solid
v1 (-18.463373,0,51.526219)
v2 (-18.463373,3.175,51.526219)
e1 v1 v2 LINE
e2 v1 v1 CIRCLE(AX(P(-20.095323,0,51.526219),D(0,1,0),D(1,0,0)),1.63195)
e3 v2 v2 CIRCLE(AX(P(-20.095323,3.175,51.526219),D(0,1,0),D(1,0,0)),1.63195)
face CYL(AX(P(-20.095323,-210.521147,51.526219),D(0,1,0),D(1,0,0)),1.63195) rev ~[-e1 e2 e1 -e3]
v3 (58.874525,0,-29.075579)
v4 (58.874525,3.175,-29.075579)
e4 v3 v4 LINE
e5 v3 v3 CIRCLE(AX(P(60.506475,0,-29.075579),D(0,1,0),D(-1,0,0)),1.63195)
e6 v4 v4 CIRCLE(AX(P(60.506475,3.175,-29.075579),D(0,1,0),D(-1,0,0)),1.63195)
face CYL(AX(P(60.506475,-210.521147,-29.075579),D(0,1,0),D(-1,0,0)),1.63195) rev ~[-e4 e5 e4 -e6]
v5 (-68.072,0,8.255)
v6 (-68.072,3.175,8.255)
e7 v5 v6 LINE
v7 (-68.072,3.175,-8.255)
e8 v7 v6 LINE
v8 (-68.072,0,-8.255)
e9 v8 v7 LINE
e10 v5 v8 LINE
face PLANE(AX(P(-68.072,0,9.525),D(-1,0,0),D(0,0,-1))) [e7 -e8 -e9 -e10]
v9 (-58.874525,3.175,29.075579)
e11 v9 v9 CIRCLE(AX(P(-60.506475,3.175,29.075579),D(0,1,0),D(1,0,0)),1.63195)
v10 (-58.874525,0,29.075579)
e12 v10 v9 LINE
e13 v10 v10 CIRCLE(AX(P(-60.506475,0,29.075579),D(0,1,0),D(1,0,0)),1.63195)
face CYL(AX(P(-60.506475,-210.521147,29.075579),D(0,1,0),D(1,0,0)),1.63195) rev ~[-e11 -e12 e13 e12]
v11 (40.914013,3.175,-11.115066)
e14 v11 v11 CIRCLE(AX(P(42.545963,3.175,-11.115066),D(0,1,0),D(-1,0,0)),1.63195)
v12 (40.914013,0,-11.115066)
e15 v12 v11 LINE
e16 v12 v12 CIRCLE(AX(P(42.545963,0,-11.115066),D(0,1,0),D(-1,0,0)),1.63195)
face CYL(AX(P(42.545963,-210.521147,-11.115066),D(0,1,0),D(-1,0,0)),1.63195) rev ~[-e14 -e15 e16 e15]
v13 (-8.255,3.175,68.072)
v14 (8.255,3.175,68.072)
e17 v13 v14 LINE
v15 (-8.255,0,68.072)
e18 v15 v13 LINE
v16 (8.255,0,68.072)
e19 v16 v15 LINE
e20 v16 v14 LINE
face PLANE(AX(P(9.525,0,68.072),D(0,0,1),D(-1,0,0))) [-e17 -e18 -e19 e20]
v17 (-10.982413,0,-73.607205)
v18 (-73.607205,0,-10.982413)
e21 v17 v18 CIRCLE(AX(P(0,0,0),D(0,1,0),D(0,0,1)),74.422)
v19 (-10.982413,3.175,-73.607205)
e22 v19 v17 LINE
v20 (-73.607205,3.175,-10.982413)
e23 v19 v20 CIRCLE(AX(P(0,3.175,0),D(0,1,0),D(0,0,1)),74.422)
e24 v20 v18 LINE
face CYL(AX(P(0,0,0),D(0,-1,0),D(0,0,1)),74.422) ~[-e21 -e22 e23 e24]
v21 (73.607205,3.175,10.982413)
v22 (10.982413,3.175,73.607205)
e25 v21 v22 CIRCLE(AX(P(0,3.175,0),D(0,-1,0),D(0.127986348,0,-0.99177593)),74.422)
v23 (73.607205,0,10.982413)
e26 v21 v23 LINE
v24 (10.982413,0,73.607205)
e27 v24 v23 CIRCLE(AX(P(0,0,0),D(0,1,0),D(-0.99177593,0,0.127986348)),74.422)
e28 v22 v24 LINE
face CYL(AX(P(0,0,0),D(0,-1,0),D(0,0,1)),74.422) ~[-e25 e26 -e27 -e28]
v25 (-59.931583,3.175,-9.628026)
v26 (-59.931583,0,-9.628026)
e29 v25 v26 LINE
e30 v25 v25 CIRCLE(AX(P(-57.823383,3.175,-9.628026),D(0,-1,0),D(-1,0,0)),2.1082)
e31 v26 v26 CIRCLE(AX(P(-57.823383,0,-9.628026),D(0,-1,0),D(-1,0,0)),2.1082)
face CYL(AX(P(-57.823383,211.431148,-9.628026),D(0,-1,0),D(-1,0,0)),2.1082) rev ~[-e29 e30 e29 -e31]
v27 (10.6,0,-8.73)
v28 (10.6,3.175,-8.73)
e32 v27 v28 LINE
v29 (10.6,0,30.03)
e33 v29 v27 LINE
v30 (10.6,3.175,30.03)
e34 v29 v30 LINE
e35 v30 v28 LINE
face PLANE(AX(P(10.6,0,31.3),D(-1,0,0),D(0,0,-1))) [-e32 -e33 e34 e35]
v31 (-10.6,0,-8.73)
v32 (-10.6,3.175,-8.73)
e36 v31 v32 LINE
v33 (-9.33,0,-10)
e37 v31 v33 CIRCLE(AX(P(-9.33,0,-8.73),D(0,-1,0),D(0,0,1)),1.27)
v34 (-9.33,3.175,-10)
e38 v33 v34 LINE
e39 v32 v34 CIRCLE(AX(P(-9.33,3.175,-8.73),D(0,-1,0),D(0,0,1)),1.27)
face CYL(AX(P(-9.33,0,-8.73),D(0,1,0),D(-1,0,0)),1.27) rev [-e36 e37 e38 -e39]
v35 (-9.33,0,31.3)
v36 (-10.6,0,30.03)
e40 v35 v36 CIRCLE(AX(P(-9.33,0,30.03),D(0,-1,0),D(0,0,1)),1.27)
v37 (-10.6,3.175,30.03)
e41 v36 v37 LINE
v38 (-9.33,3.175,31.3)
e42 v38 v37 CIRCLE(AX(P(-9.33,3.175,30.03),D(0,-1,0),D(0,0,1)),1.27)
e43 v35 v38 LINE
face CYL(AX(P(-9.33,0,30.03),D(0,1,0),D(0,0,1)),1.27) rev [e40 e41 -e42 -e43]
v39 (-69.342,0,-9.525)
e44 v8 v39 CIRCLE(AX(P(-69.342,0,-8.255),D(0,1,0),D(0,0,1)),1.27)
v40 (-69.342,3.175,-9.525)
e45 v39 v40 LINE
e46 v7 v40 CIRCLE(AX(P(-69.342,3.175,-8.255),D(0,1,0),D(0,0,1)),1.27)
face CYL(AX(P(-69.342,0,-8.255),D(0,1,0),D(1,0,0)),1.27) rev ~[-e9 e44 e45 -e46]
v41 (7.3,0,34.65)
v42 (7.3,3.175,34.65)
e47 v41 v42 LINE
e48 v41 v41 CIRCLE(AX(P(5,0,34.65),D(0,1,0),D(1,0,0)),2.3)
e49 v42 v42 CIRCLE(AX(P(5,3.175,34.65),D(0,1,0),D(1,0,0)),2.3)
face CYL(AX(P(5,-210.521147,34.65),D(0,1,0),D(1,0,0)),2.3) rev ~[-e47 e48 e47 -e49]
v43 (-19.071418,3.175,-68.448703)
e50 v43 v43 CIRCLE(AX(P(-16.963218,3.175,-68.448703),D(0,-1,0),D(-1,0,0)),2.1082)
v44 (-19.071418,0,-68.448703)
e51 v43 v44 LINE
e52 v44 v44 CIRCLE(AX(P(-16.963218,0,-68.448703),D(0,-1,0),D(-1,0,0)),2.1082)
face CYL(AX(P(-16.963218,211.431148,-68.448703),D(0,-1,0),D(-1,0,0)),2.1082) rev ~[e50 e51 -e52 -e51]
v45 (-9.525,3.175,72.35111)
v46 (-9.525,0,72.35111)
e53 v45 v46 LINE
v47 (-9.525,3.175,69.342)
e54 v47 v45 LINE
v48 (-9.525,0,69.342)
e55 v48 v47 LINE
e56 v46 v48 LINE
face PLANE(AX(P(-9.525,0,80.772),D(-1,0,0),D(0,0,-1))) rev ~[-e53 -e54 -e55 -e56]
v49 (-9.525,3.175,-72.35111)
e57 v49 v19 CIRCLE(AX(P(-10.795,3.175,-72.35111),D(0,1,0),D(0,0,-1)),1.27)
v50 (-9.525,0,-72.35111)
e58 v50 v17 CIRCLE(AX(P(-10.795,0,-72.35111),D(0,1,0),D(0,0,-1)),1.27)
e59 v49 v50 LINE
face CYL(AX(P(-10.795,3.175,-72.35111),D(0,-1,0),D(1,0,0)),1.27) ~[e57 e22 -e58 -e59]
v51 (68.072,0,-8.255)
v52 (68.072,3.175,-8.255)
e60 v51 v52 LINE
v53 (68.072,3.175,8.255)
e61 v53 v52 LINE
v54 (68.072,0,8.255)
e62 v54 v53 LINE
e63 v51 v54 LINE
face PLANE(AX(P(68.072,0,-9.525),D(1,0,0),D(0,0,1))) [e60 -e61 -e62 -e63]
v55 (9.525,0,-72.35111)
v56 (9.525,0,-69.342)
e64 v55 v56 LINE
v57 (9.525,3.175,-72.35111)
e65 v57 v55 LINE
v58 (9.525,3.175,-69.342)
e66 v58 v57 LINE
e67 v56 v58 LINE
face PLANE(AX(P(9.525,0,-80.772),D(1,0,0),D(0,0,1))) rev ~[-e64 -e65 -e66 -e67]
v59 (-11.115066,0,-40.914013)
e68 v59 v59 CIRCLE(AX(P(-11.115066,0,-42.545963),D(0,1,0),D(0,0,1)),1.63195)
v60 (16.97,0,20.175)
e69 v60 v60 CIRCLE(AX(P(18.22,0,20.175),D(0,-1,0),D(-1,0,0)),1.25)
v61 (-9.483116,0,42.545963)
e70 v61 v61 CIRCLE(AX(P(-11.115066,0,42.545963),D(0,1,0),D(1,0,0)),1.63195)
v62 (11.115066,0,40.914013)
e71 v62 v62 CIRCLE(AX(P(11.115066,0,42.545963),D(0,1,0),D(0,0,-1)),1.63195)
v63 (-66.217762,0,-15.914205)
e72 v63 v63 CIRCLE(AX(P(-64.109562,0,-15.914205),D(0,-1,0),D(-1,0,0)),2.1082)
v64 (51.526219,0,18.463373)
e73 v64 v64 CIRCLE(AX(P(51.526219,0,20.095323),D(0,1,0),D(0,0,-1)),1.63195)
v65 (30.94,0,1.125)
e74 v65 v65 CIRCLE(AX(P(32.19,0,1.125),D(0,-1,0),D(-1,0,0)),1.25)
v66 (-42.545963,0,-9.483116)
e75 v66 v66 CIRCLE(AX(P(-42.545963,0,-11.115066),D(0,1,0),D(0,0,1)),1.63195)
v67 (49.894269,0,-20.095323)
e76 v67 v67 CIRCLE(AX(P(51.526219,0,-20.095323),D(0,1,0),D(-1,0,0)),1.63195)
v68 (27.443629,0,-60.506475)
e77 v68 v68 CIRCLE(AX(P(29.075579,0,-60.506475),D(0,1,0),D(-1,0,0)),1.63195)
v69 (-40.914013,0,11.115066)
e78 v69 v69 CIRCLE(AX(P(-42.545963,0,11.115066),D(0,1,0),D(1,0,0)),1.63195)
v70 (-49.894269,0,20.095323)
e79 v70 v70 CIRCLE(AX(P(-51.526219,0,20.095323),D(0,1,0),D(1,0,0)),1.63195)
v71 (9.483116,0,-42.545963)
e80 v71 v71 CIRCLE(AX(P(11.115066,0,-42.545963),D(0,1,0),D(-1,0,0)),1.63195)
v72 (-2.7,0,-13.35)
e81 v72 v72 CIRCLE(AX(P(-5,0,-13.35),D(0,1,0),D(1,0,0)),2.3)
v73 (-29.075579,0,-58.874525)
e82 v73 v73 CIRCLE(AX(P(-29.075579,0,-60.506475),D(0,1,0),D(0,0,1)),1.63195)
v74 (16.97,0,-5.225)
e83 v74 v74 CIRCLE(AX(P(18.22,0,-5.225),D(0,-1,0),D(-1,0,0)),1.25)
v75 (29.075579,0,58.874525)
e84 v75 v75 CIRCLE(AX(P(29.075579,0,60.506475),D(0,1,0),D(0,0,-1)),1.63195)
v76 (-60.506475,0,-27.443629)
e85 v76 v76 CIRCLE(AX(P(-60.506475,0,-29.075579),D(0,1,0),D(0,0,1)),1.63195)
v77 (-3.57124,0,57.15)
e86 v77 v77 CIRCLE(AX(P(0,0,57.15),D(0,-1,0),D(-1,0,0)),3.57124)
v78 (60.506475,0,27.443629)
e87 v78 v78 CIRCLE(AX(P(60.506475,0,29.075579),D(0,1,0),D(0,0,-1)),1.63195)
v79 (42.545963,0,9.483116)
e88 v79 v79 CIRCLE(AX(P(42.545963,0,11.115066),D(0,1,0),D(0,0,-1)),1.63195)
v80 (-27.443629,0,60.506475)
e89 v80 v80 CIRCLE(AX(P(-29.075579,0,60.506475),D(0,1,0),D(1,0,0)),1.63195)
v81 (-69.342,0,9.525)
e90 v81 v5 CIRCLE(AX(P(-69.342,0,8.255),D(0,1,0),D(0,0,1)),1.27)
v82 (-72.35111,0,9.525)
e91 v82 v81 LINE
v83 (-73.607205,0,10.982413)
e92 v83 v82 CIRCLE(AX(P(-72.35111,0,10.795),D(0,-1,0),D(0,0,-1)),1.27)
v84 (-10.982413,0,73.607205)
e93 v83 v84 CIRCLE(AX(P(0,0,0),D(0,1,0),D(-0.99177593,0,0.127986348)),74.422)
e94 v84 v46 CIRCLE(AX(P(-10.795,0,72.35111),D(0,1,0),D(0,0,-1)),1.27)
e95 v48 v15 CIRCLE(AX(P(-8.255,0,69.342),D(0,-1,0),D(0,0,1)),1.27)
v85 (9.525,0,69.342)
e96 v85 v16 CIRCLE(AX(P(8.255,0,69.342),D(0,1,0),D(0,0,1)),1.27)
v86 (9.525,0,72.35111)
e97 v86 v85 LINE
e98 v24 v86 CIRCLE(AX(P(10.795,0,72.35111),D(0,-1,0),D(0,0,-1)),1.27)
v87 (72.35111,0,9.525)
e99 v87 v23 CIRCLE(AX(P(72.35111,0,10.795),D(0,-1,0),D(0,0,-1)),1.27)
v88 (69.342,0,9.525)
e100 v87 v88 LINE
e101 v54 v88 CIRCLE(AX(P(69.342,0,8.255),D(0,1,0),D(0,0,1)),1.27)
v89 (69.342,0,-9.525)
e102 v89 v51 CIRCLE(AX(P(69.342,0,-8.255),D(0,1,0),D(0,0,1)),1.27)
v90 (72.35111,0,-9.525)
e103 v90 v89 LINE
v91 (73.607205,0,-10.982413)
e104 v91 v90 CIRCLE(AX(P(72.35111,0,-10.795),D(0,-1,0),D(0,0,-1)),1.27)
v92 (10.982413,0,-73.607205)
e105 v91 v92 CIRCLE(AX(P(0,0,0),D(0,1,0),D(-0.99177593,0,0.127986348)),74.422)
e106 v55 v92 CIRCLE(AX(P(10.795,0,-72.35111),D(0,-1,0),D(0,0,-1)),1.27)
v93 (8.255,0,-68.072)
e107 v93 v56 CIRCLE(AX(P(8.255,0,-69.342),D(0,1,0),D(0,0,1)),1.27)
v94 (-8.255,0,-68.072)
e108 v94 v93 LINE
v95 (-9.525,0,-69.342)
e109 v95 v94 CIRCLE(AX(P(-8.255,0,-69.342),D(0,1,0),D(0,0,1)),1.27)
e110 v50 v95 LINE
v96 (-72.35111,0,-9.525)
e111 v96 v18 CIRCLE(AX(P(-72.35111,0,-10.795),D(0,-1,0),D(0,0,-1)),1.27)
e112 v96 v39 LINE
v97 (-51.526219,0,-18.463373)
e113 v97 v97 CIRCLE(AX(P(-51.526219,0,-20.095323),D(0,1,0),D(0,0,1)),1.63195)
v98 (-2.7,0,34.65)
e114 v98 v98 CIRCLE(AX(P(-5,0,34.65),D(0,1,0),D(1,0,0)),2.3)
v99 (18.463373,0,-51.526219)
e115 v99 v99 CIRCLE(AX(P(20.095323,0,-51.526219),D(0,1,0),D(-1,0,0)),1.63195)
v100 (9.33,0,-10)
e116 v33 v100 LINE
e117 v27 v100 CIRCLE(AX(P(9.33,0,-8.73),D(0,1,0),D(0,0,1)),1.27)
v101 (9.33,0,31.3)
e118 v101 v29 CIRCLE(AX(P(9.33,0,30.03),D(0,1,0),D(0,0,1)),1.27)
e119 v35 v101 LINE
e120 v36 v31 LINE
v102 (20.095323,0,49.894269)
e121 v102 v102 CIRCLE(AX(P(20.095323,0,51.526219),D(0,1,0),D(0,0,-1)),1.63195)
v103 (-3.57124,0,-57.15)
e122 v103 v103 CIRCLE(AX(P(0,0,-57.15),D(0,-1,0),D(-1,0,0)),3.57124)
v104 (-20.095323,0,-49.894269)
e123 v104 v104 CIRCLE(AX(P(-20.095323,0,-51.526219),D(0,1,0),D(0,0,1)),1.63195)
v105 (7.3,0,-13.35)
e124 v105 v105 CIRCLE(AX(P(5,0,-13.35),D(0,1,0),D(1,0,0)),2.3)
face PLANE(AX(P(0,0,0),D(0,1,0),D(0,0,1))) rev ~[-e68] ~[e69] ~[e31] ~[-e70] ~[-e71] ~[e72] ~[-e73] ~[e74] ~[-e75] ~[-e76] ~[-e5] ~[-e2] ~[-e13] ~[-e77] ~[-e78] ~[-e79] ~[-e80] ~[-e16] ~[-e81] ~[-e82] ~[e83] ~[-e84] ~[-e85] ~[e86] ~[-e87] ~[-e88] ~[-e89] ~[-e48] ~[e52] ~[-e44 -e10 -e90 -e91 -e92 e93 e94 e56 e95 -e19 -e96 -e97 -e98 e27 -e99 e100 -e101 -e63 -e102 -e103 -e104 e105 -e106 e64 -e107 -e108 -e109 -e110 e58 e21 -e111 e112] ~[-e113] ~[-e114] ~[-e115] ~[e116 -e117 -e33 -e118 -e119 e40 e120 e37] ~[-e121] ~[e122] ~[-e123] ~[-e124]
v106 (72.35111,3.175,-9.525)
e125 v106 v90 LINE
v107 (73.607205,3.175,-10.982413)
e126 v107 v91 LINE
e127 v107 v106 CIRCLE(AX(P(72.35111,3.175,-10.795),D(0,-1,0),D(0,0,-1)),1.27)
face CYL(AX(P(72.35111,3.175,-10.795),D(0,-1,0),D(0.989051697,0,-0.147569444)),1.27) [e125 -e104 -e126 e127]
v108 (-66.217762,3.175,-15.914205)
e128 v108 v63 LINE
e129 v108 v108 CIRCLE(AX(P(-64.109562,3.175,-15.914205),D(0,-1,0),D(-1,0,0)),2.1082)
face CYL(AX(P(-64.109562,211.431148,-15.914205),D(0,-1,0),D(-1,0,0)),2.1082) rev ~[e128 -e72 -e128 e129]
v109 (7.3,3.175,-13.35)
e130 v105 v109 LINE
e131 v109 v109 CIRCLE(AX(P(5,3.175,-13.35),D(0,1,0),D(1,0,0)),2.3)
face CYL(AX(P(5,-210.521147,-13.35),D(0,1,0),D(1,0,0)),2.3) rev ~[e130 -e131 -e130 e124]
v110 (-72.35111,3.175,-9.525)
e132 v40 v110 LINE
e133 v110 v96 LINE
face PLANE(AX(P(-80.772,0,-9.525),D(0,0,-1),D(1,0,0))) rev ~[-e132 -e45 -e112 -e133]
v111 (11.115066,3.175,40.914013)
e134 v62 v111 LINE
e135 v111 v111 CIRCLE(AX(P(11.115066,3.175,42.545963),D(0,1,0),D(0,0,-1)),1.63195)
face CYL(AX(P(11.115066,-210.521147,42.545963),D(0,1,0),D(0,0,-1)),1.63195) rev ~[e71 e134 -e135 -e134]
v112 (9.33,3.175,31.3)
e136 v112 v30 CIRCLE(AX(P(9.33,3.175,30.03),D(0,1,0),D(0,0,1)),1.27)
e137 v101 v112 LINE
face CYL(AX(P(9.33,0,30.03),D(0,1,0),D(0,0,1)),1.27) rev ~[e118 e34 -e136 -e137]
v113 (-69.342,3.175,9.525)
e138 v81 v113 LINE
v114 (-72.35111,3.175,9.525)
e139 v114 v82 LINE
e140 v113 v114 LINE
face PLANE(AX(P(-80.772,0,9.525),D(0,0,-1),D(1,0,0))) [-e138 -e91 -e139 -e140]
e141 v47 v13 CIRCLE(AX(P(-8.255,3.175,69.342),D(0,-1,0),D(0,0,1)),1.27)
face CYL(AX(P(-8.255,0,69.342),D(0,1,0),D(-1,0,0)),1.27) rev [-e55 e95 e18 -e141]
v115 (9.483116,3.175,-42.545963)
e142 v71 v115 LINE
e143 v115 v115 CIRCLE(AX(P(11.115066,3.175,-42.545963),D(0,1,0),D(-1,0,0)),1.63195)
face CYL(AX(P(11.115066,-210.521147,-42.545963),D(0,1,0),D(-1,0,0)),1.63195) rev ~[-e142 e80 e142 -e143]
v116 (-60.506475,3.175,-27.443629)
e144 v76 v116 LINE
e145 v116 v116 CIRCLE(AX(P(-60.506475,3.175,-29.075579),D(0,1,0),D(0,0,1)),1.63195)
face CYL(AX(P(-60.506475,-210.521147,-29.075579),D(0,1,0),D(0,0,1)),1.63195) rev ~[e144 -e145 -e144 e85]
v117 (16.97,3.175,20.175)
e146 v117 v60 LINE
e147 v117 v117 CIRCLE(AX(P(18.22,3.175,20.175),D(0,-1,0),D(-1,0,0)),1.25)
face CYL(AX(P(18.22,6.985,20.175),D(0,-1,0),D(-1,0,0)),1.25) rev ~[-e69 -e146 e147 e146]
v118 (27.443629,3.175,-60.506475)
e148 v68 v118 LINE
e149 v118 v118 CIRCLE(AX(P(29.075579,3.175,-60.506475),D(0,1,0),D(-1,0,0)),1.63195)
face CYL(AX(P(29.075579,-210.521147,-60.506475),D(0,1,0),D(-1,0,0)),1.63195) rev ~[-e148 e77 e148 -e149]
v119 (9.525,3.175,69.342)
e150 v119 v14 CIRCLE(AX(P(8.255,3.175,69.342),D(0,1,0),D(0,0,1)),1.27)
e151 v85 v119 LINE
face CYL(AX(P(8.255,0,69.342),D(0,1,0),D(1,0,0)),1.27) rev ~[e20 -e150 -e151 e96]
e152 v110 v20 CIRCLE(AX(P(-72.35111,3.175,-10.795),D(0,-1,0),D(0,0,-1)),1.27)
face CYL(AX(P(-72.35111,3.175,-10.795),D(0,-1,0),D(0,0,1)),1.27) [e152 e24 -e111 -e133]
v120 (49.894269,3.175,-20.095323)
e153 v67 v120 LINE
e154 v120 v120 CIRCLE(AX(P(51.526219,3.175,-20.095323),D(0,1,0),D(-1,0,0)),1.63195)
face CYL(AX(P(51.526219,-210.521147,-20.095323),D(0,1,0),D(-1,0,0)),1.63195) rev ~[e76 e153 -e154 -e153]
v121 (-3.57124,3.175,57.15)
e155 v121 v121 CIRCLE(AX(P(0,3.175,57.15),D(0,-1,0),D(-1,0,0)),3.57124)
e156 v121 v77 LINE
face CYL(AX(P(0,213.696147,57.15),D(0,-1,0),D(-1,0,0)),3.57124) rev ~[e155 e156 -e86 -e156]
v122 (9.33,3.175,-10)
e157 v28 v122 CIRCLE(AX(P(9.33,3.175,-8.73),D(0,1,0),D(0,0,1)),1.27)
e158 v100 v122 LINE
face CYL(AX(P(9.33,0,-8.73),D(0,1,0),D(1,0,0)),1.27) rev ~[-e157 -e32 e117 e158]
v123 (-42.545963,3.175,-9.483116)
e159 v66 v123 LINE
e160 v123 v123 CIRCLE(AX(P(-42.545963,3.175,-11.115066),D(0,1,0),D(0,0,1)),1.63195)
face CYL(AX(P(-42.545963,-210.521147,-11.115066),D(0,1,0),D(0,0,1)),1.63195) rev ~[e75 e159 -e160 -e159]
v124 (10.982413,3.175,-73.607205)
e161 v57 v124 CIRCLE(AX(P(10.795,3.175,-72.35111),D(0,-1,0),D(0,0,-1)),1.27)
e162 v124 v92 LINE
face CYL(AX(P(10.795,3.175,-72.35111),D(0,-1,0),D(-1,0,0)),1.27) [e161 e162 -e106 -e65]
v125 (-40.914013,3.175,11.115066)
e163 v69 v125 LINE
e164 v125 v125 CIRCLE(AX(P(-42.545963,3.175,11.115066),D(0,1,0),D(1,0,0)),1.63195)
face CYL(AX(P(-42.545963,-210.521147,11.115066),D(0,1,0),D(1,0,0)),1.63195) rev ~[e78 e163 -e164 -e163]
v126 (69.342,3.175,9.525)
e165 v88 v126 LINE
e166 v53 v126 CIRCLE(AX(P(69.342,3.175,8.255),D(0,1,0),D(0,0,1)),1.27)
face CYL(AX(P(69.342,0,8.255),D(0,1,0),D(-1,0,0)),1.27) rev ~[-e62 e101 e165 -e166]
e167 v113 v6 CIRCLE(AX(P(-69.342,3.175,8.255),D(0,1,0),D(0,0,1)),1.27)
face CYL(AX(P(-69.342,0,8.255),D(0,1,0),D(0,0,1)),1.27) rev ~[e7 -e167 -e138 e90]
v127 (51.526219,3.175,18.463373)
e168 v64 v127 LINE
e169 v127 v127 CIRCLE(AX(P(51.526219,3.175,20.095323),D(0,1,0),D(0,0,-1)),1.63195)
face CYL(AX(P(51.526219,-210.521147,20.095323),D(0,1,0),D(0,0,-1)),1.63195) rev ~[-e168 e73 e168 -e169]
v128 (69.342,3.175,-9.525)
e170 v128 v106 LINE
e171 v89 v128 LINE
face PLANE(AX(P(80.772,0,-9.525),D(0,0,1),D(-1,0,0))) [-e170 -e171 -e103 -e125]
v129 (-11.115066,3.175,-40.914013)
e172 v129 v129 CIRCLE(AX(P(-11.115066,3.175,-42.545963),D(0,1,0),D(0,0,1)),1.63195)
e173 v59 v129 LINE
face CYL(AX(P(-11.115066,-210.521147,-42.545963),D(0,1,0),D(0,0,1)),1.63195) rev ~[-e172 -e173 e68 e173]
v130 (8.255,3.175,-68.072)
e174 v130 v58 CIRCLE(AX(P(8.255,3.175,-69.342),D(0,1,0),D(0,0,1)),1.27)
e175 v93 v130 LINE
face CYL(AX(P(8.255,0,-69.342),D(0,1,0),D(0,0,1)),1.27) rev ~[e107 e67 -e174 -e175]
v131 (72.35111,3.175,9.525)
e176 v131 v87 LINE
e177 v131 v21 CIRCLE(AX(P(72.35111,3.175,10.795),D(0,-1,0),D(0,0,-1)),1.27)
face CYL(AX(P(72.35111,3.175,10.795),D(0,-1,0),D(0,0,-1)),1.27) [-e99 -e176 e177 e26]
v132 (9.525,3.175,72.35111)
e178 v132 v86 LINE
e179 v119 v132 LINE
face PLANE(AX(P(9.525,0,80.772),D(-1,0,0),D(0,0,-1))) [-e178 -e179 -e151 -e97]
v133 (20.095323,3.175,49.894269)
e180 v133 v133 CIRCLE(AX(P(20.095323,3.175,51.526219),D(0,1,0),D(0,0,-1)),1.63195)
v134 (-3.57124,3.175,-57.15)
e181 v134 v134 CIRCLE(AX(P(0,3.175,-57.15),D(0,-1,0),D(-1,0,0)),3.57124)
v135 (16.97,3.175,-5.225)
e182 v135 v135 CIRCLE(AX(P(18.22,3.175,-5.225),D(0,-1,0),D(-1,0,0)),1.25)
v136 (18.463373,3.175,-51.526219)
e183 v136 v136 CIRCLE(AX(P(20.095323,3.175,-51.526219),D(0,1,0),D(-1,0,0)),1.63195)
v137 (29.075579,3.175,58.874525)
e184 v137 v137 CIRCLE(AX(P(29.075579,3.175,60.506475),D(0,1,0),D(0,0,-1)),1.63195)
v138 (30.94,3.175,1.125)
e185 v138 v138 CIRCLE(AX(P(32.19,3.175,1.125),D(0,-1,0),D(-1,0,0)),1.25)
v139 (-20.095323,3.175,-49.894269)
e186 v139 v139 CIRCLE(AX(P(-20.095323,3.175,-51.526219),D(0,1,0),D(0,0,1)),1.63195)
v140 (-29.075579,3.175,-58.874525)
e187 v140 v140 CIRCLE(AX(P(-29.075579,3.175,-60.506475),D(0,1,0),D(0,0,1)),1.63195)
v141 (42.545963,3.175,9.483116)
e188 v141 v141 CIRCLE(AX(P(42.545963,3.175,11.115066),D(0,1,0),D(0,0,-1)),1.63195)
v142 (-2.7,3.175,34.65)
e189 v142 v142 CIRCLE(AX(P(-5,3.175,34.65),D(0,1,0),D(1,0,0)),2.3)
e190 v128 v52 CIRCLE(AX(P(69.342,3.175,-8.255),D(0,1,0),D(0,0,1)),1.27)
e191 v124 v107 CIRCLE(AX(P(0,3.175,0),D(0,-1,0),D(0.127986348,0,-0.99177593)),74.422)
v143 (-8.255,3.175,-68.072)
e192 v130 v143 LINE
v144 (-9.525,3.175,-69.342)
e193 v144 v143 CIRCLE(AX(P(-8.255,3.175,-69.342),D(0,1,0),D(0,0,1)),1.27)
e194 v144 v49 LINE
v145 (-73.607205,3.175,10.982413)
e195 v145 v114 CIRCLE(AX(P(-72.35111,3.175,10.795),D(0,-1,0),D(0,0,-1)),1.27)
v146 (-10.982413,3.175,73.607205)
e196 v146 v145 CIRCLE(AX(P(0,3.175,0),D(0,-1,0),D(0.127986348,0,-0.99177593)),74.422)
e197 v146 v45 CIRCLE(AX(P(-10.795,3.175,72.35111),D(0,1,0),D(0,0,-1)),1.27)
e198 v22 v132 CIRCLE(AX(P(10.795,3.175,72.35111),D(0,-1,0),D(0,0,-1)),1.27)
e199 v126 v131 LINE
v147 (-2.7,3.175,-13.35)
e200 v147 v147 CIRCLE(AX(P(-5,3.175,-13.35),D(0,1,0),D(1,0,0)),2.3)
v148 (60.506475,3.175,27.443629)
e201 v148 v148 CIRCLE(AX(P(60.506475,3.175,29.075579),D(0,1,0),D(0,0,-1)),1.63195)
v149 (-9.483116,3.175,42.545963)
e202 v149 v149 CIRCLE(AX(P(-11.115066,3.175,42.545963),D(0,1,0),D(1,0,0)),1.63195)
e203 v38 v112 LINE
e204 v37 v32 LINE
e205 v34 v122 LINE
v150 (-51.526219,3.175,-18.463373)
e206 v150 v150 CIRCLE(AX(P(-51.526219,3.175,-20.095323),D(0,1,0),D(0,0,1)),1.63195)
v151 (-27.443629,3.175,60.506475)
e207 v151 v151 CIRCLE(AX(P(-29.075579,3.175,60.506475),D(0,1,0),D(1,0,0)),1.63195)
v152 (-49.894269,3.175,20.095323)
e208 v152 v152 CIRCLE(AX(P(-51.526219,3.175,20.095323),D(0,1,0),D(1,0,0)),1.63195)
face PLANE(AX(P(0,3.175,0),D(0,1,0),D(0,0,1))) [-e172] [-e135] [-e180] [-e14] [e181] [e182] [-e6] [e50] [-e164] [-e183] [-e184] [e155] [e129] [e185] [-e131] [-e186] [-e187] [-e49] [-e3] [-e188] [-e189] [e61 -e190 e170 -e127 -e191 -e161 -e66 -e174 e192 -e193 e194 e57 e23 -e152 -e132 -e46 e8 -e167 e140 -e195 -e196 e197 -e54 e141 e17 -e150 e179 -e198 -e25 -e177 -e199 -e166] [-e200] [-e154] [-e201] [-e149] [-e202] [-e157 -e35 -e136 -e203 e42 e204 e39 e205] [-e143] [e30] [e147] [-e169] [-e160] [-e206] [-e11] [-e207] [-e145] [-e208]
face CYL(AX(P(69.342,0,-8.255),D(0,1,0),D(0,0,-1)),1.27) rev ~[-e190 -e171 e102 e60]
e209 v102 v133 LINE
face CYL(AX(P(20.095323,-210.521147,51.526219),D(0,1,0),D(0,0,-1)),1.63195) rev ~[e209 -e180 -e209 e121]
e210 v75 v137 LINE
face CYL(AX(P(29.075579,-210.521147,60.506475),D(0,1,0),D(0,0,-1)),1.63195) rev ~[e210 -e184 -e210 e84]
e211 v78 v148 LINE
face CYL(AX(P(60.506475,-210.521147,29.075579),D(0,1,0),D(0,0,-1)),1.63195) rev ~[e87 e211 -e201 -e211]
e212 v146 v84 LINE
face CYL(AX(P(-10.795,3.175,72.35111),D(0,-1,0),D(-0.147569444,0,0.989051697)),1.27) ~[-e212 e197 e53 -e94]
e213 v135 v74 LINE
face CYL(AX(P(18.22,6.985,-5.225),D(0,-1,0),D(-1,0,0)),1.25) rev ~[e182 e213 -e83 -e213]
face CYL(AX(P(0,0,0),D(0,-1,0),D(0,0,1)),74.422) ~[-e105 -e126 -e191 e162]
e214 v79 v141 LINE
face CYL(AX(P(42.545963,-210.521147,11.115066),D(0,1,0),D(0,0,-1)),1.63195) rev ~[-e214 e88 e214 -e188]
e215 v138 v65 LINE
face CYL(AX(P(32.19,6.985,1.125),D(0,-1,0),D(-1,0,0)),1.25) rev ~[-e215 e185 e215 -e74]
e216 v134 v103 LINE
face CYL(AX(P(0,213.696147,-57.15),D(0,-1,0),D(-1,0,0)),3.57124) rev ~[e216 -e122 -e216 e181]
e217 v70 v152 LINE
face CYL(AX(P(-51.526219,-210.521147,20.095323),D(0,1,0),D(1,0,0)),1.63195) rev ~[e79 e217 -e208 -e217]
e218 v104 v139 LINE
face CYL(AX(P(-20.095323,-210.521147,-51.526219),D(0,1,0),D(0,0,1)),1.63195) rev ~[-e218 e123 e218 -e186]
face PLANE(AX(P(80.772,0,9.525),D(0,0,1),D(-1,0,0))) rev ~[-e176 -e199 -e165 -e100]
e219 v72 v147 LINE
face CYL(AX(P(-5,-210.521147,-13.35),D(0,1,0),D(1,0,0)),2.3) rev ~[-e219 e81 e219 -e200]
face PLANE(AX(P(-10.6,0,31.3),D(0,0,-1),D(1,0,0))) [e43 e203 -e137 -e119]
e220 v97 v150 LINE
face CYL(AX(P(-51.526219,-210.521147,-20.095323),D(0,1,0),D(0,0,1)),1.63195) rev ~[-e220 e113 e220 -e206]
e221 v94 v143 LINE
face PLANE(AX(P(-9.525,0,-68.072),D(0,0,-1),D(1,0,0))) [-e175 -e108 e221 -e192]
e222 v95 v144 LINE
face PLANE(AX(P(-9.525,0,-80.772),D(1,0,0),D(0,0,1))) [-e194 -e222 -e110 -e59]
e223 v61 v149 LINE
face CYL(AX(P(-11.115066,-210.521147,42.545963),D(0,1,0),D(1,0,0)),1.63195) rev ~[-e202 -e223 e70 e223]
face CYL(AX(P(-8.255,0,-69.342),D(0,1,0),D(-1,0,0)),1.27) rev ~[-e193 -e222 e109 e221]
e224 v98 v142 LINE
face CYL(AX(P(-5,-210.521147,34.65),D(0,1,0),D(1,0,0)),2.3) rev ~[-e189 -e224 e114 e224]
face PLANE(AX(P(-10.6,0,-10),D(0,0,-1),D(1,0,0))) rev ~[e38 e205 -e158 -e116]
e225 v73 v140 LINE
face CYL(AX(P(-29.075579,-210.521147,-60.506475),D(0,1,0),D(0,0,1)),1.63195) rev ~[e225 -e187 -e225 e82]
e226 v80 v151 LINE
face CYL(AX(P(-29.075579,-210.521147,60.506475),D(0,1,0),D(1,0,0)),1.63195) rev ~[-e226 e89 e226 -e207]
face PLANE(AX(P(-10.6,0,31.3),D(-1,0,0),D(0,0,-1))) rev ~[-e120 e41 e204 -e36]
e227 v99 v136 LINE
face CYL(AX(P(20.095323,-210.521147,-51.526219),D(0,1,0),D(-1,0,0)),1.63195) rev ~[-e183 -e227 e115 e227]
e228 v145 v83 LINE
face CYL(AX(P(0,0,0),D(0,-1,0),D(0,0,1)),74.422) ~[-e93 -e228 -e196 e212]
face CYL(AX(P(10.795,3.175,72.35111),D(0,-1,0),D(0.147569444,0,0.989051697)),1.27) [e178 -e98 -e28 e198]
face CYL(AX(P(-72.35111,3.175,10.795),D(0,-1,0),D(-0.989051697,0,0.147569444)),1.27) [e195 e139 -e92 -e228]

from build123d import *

# Parameters (mm, degrees)
SKETCH1_R                       = 74.422
SKETCH1_W                       = 21.200000018
SKETCH1_H                       = 41.29999995
BOSS_EXTRUDE1_DEPTH             = 3.175
F_4_6_4_6_DIAMETER_HOLE1_D      = 4.6
F_4_CLEARANCE_HOLE1_D           = 3.2639
CIRPATTERN2_COUNT               = 4
F_1_4_CLEARANCE_HOLE1_D         = 7.14248
SKETCH19_W                      = 19.05
SKETCH19_H                      = 12.7
CUT_EXTRUDE1_DEPTH              = 106.29648044
CIRPATTERN3_COUNT               = 4
FILLET1_R                       = 1.27
F_19_0_166_DIAMETER_HOLE1_D     = 4.2164
TAP_DRILL_FOR_M3X0_5_TAP1_D     = 2.5
TAP_DRILL_FOR_M3X0_5_TAP1_DEPTH = 3.81
TAP_DRILL_FOR_M3X0_5_TAP1_TIP   = 0.751075774


with BuildPart() as part:
    # Sketch1 → Boss-Extrude1 (new body)
    with BuildSketch(Plane(origin=(0, 0, 0), x_dir=(1, 0, 0), z_dir=(0, 1, 0))):
        with Locations(Location((0, 0, 0), (0, 0, 270))):
            Circle(SKETCH1_R)
        with Locations((0, -10.649999909)):
            Rectangle(SKETCH1_W, SKETCH1_H, mode=Mode.SUBTRACT)
    extrude(amount=BOSS_EXTRUDE1_DEPTH)

    # Ø4.6 (4.6) Diameter Hole1 (through all)
    with Locations(Plane(origin=(0, 0, 0), x_dir=(-1, 0, 0), z_dir=(0, -1, 0))):
        with Locations((-5.000000033, 13.350000097), (4.999999906, 13.350000097), (-5.000000033, -34.649999915), (4.999999906, -34.649999915)):
            Hole(F_4_6_4_6_DIAMETER_HOLE1_D / 2)

    # #4 Clearance Hole1 (through all)
    with Locations(Plane(origin=(0, 0, 0), x_dir=(-1, 0, 0), z_dir=(0, -1, 0))):
        with Locations((60.506475165, -29.075578741), (29.075578741, -60.506475165), (11.115066499, -42.545962923), (20.09532262, -51.526219044), (51.526219044, -20.09532262), (42.545962923, -11.115066499)):
            f_4_clearance_hole1 = Hole(F_4_CLEARANCE_HOLE1_D / 2)

    # CirPattern2: #4 Clearance Hole1 ×4 about axis
    cirpattern2_axis = Axis((0, 0, 0), (0, 1, 0))
    for i in range(1, CIRPATTERN2_COUNT):
        add(f_4_clearance_hole1.rotate(cirpattern2_axis, i * 360 / CIRPATTERN2_COUNT), mode=Mode.SUBTRACT)

    # 1/4 Clearance Hole1 (through all)
    with Locations(Plane(origin=(0, 3.175, 0), x_dir=(1, 0, 0), z_dir=(0, 1, 0))):
        with Locations((0, 57.15), (0, -57.15)):
            Hole(F_1_4_CLEARANCE_HOLE1_D / 2)

    # Sketch19 → Cut-Extrude1 (cut, through all)
    with BuildSketch(Plane.XZ):
        with Locations((0, -74.422)):
            Rectangle(SKETCH19_W, SKETCH19_H)
    cut_extrude1 = extrude(amount=-CUT_EXTRUDE1_DEPTH, mode=Mode.SUBTRACT)

    # CirPattern3: Cut-Extrude1 ×4 about axis
    cirpattern3_axis = Axis((0, 0, 0), (0, 1, 0))
    for i in range(1, CIRPATTERN3_COUNT):
        add(cut_extrude1.rotate(cirpattern3_axis, i * 360 / CIRPATTERN3_COUNT), mode=Mode.SUBTRACT)

    # Fillet1
    fillet1_edges = [part.edges().sort_by_distance(p)[0] for p in [
        (-9.525, 1.5875, -73.809948239),
        (9.525, 1.5875, -73.809948239),
        (9.525, 1.5875, -68.072),
        (-9.525, 1.5875, -68.072),
        (73.809948239, 1.5875, -9.525),
        (73.809948239, 1.5875, 9.525),
        (9.525, 1.5875, 73.809948239),
        (-9.525, 1.5875, 73.809948239),
        (-73.809948239, 1.5875, 9.525),
        (-73.809948239, 1.5875, -9.525),
        (-68.072, 1.5875, -9.525),
        (-68.072, 1.5875, 9.525),
        (-9.525, 1.5875, 68.072),
        (9.525, 1.5875, 68.072),
        (68.072, 1.5875, 9.525),
        (68.072, 1.5875, -9.525),
        (10.600000009, 1.5875, 31.299999884),
        (10.600000009, 1.5875, -10.000000066),
        (-10.600000009, 1.5875, -10.000000066),
        (-10.600000009, 1.5875, 31.299999884),
    ]]
    fillet(fillet1_edges, radius=FILLET1_R)

    # #19 (0.166) Diameter Hole1 (through all)
    with Locations(Plane(origin=(0, 3.175, 0), x_dir=(1, 0, 0), z_dir=(0, 1, 0))):
        with Locations((-16.963217712, 68.448703271), (-64.109562348, 15.914204963), (-57.823383063, 9.628025678)):
            Hole(F_19_0_166_DIAMETER_HOLE1_D / 2)

    # Tap Drill for M3x0.5 Tap1
    with Locations(Plane(origin=(0, 3.175, 0), x_dir=(1, 0, 0), z_dir=(0, 1, 0))):
        with Locations((18.220000103, 5.225000097), (18.220000103, -20.174999903), (32.190000103, -1.124999903)):
            Hole(TAP_DRILL_FOR_M3X0_5_TAP1_D / 2, depth=TAP_DRILL_FOR_M3X0_5_TAP1_DEPTH)
            with Locations((0, 0, -(TAP_DRILL_FOR_M3X0_5_TAP1_DEPTH + TAP_DRILL_FOR_M3X0_5_TAP1_TIP / 2))):  # 118° drill point
                Cone(0, TAP_DRILL_FOR_M3X0_5_TAP1_D / 2, TAP_DRILL_FOR_M3X0_5_TAP1_TIP, mode=Mode.SUBTRACT)


solid = part.part
